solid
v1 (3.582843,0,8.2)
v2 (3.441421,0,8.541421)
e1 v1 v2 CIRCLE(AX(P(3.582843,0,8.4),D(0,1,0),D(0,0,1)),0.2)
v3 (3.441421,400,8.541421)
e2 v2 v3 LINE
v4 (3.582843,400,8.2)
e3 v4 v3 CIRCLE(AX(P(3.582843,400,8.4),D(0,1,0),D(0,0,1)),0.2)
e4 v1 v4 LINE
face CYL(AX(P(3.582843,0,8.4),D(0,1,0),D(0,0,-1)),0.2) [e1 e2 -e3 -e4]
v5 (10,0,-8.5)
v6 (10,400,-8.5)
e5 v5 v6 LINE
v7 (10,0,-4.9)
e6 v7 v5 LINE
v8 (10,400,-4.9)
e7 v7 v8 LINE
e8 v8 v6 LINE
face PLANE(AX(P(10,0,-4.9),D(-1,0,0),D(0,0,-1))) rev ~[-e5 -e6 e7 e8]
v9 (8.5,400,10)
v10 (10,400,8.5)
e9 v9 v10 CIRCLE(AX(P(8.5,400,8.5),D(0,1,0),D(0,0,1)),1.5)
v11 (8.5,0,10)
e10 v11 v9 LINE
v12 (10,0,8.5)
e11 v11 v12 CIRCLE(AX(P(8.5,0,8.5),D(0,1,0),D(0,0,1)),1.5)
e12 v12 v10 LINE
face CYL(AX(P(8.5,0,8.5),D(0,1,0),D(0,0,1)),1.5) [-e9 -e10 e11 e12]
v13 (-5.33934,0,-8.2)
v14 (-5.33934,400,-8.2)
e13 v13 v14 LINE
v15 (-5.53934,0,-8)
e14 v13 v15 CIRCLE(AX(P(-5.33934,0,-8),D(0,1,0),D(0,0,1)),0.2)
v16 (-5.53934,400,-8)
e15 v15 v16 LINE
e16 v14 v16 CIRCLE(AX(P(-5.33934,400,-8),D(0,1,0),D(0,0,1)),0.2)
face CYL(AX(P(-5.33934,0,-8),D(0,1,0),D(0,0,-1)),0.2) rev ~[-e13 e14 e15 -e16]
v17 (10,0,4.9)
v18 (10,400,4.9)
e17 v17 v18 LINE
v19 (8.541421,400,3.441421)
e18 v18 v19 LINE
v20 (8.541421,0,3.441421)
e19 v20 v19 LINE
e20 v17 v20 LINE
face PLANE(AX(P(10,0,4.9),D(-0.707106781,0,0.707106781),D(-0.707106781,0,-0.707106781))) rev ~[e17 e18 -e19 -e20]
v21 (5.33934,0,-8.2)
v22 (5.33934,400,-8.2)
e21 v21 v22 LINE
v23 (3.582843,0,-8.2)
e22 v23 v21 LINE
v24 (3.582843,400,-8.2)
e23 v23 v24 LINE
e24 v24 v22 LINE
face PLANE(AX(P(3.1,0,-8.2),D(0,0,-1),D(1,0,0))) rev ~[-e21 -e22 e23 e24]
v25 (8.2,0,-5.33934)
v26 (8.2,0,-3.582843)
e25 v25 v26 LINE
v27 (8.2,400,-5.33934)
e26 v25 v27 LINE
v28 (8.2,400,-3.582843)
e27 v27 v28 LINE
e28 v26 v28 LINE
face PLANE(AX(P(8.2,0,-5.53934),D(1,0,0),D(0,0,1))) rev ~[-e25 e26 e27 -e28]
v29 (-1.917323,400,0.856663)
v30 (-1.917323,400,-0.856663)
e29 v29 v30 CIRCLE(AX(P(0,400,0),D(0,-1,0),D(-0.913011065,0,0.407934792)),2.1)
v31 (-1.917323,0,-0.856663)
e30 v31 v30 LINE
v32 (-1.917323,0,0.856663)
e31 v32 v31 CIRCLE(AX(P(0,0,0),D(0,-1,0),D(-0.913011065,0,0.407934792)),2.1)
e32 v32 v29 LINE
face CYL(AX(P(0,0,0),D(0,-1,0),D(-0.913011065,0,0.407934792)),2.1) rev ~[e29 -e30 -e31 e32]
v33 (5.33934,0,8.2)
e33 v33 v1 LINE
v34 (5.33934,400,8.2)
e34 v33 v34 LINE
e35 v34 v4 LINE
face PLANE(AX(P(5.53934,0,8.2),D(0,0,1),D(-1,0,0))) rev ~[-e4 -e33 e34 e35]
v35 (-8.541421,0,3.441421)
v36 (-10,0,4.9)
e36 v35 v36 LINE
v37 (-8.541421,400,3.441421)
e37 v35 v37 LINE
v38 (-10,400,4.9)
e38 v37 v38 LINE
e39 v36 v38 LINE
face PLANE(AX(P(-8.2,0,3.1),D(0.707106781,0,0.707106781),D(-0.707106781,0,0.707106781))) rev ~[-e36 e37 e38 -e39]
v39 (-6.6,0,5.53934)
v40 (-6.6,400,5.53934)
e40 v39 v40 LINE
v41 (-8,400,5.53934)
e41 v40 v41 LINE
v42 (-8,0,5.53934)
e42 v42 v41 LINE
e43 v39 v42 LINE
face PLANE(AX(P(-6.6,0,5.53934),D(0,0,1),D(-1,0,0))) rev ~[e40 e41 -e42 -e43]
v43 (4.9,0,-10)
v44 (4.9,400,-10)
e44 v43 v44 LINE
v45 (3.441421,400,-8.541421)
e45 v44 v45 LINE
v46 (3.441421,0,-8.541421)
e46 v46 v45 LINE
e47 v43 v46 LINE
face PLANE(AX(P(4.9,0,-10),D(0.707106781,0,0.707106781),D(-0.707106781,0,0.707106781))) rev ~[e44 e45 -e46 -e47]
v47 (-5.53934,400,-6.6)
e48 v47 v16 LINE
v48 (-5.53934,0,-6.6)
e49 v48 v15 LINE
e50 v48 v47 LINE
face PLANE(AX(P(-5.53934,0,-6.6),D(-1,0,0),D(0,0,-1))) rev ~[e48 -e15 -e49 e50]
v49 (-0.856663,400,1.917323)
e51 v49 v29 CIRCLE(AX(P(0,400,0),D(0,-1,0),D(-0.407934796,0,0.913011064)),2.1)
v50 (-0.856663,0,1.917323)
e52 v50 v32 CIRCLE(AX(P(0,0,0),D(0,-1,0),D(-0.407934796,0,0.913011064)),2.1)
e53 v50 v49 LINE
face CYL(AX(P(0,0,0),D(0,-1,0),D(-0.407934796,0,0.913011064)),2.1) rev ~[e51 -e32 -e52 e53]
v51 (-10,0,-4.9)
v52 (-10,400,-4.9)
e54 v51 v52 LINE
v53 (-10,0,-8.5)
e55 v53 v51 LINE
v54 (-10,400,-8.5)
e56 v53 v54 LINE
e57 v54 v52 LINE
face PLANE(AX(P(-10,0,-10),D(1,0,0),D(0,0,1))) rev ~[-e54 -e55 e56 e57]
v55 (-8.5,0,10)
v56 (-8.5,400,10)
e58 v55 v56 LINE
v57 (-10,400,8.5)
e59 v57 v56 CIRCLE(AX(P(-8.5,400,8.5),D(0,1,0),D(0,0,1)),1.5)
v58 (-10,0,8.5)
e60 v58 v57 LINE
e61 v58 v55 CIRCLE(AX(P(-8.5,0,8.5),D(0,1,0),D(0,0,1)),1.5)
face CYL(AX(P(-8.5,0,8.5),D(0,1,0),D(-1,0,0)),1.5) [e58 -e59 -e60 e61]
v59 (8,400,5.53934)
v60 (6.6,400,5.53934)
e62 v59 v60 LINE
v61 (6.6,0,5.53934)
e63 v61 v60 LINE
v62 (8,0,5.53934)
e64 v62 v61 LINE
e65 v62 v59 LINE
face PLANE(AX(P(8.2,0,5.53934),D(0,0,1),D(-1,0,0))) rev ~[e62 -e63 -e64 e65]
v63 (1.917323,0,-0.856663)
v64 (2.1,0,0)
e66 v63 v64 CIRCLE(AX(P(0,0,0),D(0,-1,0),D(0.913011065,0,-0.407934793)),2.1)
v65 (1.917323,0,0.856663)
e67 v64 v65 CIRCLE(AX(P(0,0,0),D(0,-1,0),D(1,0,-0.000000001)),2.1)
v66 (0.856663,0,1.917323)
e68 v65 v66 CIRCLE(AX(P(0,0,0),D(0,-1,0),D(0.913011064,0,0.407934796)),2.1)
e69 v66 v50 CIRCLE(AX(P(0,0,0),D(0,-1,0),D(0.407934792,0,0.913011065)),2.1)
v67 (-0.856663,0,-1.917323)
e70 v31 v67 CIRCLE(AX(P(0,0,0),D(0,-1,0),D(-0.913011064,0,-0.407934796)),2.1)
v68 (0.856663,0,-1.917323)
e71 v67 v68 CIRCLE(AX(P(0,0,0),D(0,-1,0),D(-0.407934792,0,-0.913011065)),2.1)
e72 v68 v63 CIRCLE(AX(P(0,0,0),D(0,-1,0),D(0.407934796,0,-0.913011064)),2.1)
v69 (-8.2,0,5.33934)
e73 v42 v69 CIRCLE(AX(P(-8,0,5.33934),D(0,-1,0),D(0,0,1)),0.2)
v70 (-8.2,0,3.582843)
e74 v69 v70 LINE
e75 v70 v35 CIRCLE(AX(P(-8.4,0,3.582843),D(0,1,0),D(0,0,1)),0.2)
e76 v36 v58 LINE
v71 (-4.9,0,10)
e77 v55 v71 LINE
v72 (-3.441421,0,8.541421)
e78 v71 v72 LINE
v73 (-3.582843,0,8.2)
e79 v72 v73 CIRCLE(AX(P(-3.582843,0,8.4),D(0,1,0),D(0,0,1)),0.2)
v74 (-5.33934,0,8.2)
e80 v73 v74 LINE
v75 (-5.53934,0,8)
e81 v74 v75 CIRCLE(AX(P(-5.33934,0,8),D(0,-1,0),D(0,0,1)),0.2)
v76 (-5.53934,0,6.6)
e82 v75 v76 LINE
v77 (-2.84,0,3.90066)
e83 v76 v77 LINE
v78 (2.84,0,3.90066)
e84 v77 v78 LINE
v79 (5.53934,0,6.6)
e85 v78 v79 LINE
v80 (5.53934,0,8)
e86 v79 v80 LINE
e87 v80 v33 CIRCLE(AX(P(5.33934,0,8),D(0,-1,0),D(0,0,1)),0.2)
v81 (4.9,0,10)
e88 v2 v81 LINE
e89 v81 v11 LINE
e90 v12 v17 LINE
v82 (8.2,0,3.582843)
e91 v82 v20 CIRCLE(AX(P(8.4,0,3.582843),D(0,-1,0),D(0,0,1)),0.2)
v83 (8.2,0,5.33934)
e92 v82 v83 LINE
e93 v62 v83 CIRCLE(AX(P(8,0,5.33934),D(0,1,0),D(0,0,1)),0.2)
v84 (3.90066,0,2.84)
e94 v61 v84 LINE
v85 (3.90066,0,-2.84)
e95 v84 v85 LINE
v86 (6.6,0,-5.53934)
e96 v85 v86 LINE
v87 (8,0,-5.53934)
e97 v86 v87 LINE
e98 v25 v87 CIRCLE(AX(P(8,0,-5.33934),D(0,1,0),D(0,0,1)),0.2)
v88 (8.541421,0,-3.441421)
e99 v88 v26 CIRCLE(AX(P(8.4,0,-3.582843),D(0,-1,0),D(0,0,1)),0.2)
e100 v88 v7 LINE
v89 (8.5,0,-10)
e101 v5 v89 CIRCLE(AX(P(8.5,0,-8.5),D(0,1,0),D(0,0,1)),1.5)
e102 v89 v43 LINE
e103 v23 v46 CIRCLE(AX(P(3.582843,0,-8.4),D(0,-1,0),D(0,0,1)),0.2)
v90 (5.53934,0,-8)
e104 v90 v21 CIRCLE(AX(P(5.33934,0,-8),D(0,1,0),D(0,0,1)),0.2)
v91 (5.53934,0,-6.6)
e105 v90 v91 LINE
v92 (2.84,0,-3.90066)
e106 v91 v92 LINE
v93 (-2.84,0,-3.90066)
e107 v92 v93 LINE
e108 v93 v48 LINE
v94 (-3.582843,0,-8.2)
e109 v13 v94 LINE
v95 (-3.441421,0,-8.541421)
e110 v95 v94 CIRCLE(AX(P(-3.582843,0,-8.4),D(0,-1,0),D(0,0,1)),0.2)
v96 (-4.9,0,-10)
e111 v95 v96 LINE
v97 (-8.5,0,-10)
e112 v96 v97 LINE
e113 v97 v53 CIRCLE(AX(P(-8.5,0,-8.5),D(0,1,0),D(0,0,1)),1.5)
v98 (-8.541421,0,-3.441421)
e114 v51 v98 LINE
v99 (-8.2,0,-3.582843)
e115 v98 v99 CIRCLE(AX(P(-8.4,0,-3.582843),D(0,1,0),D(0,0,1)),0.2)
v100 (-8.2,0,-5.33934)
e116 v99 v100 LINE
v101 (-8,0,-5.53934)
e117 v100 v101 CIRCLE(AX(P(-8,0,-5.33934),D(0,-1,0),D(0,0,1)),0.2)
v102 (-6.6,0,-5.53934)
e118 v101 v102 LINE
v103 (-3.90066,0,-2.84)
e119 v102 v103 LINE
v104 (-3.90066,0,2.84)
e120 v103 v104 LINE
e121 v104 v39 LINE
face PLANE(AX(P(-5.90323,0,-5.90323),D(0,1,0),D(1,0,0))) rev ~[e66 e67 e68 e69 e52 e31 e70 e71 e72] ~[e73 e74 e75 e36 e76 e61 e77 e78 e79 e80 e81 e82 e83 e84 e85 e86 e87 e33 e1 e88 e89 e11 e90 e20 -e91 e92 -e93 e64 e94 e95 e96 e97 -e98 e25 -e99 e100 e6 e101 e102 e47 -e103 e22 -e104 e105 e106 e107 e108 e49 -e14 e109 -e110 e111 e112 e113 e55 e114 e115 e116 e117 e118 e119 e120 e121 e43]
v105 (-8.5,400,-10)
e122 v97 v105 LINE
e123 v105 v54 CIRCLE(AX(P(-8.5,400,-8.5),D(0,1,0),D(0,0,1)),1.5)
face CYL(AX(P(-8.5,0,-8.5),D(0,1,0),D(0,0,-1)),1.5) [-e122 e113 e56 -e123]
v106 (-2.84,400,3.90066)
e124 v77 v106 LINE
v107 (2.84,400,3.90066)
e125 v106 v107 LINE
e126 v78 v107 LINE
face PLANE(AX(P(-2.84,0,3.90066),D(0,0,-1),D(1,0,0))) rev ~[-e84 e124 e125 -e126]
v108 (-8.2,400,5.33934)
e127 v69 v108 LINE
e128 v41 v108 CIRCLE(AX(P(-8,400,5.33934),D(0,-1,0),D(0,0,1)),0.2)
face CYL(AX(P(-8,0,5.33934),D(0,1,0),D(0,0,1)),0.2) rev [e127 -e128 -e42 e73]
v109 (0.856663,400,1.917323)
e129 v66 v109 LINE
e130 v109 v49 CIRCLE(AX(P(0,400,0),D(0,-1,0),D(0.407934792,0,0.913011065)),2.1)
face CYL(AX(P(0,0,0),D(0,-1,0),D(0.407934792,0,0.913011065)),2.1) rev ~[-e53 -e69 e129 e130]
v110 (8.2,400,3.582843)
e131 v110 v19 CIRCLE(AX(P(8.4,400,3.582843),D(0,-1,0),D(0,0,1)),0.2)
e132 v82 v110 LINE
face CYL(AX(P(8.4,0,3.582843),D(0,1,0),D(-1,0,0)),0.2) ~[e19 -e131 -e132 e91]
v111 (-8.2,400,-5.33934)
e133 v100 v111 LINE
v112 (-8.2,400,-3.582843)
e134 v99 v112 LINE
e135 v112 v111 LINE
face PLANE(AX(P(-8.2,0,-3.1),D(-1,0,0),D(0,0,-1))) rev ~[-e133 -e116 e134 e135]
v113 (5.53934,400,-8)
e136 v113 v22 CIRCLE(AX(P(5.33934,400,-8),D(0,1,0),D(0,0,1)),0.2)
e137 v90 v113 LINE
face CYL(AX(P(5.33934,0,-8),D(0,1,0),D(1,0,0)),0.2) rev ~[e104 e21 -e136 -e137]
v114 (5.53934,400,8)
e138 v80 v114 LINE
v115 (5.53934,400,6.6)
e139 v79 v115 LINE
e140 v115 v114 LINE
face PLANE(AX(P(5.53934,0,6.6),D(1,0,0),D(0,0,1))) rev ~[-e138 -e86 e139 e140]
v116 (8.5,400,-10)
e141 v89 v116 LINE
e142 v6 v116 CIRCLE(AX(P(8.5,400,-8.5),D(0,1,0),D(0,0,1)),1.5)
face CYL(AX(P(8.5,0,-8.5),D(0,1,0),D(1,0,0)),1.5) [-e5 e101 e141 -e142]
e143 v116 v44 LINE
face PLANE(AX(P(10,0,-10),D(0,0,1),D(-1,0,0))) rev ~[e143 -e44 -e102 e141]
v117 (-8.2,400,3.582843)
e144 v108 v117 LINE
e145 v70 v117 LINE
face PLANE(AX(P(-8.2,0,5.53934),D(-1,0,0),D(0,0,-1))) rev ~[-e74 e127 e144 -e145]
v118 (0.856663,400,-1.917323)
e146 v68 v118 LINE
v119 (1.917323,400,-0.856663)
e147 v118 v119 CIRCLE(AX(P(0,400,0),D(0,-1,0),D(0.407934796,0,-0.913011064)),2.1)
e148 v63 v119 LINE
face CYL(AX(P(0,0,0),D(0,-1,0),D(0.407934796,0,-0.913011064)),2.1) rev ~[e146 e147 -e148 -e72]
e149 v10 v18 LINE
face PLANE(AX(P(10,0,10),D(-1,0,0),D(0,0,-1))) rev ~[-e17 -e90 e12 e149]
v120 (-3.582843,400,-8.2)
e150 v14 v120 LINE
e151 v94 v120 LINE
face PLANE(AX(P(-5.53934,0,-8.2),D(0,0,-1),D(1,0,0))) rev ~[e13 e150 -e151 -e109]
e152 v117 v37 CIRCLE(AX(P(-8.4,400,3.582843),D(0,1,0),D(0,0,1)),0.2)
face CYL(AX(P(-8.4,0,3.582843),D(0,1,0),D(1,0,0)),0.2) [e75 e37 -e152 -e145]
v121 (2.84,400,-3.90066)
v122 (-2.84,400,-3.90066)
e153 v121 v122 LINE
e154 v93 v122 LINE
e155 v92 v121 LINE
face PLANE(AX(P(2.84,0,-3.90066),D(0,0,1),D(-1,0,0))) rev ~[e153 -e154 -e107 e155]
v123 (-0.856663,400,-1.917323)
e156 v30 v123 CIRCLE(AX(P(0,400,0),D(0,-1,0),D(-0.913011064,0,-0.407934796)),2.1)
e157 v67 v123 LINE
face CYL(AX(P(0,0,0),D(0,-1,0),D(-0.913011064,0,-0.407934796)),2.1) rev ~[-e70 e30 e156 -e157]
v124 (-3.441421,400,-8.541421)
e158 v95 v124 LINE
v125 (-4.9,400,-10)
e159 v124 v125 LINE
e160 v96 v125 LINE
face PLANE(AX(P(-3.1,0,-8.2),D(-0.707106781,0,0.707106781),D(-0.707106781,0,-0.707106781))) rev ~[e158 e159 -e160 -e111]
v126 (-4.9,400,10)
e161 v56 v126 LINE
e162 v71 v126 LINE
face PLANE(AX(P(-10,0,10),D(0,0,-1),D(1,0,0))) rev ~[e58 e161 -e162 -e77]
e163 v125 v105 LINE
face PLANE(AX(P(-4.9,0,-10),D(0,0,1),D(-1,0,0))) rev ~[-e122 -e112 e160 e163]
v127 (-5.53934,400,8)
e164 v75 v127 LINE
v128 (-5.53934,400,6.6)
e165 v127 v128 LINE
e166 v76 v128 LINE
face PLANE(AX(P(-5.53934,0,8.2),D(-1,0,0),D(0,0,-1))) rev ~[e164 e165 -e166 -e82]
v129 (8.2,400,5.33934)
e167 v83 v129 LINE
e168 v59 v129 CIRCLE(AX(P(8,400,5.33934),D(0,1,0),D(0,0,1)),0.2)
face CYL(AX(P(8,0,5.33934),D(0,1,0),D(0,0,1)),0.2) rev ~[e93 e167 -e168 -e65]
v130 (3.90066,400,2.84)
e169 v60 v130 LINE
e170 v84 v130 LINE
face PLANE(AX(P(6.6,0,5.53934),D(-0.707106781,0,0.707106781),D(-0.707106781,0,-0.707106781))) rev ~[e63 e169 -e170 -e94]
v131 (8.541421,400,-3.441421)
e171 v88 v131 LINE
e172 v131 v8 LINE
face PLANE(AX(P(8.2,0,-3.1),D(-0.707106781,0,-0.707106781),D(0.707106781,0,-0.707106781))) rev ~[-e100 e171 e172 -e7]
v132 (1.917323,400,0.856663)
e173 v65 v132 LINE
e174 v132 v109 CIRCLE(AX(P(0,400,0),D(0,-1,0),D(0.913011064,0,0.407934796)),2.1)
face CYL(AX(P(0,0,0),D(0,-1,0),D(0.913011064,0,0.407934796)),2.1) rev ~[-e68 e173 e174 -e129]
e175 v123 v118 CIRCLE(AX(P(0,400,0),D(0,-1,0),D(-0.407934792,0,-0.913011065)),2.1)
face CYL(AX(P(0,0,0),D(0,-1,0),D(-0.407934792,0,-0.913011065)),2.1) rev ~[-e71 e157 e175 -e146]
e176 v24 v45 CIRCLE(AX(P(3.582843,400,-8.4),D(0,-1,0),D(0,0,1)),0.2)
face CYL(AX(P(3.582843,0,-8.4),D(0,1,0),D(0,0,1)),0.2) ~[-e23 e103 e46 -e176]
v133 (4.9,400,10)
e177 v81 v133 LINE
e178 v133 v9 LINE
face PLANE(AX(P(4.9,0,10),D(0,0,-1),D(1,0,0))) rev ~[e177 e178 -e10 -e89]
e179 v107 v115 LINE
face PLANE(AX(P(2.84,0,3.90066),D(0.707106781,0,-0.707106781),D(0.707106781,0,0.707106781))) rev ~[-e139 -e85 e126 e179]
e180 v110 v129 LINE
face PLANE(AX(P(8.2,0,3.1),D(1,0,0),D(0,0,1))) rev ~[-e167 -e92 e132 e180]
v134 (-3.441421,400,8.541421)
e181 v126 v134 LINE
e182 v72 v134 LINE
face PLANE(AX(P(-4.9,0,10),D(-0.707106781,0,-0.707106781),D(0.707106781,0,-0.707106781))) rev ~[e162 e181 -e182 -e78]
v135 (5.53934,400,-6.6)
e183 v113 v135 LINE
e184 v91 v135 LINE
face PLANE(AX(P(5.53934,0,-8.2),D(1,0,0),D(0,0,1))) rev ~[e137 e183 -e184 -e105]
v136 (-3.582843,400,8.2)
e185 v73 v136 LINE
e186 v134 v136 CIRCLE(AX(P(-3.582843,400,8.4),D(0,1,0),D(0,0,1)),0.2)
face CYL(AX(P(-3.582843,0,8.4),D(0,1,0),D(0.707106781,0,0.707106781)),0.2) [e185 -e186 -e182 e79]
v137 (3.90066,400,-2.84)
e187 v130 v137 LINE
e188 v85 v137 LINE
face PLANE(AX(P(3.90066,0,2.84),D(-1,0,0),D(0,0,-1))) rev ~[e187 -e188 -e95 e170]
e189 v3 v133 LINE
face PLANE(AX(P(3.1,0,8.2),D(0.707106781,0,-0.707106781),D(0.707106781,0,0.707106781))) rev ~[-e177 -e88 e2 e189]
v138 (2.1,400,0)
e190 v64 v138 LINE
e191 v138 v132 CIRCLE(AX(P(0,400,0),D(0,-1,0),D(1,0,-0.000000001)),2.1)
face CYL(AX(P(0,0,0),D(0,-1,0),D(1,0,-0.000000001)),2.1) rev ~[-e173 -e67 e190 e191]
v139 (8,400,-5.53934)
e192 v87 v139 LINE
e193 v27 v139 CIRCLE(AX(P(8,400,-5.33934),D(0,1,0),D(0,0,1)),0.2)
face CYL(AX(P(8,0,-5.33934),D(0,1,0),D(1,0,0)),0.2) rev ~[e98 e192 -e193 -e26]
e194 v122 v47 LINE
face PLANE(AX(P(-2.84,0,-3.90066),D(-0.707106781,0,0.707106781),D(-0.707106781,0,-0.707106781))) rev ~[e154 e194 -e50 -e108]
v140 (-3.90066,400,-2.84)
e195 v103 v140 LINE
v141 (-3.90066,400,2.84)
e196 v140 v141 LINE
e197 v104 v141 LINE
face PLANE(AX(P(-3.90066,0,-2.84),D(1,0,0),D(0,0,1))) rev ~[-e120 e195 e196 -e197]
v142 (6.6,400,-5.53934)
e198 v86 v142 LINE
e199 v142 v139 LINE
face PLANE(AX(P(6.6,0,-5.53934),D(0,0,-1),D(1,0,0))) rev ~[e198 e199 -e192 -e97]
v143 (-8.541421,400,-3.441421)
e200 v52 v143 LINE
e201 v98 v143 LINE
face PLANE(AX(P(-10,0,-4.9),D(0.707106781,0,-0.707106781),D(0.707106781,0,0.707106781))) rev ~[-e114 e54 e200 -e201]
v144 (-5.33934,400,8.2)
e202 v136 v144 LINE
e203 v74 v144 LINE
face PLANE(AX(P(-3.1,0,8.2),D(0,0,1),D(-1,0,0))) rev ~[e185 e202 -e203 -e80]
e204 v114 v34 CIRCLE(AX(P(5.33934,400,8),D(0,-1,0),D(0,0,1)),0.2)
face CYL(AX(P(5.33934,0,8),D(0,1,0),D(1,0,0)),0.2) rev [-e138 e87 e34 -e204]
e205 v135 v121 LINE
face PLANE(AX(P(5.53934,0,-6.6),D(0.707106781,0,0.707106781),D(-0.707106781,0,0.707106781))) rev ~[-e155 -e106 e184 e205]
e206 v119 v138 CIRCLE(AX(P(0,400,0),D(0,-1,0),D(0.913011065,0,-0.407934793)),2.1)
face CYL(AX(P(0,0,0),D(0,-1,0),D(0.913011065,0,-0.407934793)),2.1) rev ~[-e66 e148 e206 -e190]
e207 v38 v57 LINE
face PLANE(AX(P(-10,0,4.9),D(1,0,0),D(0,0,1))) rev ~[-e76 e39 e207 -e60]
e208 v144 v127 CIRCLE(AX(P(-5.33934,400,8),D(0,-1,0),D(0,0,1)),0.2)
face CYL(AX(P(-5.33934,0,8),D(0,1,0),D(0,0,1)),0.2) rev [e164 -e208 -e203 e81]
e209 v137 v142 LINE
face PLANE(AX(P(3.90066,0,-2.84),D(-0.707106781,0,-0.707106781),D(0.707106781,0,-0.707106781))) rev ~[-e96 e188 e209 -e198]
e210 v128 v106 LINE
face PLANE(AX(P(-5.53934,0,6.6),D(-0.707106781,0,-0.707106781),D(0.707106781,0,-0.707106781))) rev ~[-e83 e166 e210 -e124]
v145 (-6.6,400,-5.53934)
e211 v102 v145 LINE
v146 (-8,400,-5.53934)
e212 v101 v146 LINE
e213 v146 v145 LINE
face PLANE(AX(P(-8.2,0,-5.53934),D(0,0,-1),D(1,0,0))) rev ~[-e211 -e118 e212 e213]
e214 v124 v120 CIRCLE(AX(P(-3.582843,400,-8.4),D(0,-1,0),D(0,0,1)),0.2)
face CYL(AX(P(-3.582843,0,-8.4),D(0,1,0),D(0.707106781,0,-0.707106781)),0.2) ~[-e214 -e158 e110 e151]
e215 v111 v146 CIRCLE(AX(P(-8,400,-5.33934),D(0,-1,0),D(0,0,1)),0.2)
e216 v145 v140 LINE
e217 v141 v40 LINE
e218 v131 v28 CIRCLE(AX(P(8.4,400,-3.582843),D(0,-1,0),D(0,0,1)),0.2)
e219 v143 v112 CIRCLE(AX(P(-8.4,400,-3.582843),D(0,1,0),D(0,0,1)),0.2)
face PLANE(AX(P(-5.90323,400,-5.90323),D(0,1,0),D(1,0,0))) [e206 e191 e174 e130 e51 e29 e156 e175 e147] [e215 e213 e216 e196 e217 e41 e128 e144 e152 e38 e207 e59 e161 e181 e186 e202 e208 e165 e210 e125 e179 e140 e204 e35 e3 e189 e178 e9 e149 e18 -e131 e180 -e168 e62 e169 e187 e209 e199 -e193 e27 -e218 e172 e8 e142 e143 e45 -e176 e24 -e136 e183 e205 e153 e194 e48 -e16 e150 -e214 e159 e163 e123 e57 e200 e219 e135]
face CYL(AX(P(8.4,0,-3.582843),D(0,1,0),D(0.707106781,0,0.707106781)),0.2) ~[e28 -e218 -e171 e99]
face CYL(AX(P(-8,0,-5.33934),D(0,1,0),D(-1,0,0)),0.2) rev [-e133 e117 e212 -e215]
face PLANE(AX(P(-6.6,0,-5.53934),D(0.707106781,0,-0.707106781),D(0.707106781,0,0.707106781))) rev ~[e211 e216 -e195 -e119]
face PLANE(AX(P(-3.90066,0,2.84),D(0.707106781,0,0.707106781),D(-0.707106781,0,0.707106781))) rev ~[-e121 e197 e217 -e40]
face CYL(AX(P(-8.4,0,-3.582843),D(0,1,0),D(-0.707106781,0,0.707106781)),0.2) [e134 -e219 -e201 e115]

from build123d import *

# Parameters (mm, degrees)
SALIENTE_EXTRUIR1_DEPTH = 400
REDONDEO1_R             = 1.5
REDONDEO2_R             = 0.2


with BuildPart() as part:
    # Croquis1 → Saliente-Extruir1 (new body)
    with BuildSketch(Plane(origin=(0, 0, 0), x_dir=(1, 0, 0), z_dir=(0, 1, 0))):
        with BuildLine():
            Line((-4.9, 10), (-10, 10))
            Line((-10, 10), (-10, 4.9))
            Line((-10, 4.9), (-8.2, 3.1))
            Line((-8.2, 3.1), (-8.2, 5.539339828))
            Line((-8.2, 5.539339828), (-6.6, 5.539339828))
            Line((-6.6, 5.539339828), (-3.900660172, 2.84))
            Line((-3.900660172, 2.84), (-1.917323237, 0.856663065))
            ThreePointArc((-1.917323237, 0.856663065), (-1.48492424, 1.48492424), (-0.856663065, 1.917323237))
            Line((-0.856663065, 1.917323237), (-2.84, 3.900660172))
            Line((-2.84, 3.900660172), (-5.539339828, 6.6))
            Line((-5.539339828, 6.6), (-5.539339828, 8.2))
            Line((-5.539339828, 8.2), (-3.1, 8.2))
            Line((-3.1, 8.2), (-4.9, 10))
        make_face()
        with BuildLine():
            Line((-8.2, -3.1), (-10, -4.9))
            Line((-10, -4.9), (-10, -10))
            Line((-10, -10), (-4.9, -10))
            Line((-4.9, -10), (-3.1, -8.2))
            Line((-3.1, -8.2), (-5.539339828, -8.2))
            Line((-5.539339828, -8.2), (-5.539339828, -6.6))
            Line((-5.539339828, -6.6), (-2.84, -3.900660172))
            Line((-2.84, -3.900660172), (-0.856663065, -1.917323237))
            ThreePointArc((-0.856663065, -1.917323237), (-1.48492424, -1.48492424), (-1.917323237, -0.856663065))
            Line((-1.917323237, -0.856663065), (-3.900660172, -2.84))
            Line((-3.900660172, -2.84), (-6.6, -5.539339828))
            Line((-6.6, -5.539339828), (-8.2, -5.539339828))
            Line((-8.2, -5.539339828), (-8.2, -3.1))
        make_face()
        with BuildLine():
            Line((10, -10), (10, -4.9))
            Line((10, -4.9), (8.2, -3.1))
            Line((8.2, -3.1), (8.2, -5.539339828))
            Line((8.2, -5.539339828), (6.6, -5.539339828))
            Line((6.6, -5.539339828), (3.900660172, -2.84))
            Line((3.900660172, -2.84), (1.917323237, -0.856663065))
            ThreePointArc((1.917323237, -0.856663065), (1.48492424, -1.48492424), (0.856663065, -1.917323237))
            Line((0.856663065, -1.917323237), (2.84, -3.900660172))
            Line((2.84, -3.900660172), (5.539339828, -6.6))
            Line((5.539339828, -6.6), (5.539339828, -8.2))
            Line((5.539339828, -8.2), (3.1, -8.2))
            Line((3.1, -8.2), (4.9, -10))
            Line((4.9, -10), (10, -10))
        make_face()
        with BuildLine():
            Line((10, 10), (4.9, 10))
            Line((4.9, 10), (3.1, 8.2))
            Line((3.1, 8.2), (5.539339828, 8.2))
            Line((5.539339828, 8.2), (5.539339828, 6.6))
            Line((5.539339828, 6.6), (2.84, 3.900660172))
            Line((2.84, 3.900660172), (0.856663065, 1.917323237))
            ThreePointArc((0.856663065, 1.917323237), (1.48492424, 1.48492424), (1.917323237, 0.856663065))
            Line((1.917323237, 0.856663065), (3.900660172, 2.84))
            Line((3.900660172, 2.84), (6.6, 5.539339828))
            Line((6.6, 5.539339828), (8.2, 5.539339828))
            Line((8.2, 5.539339828), (8.2, 3.1))
            Line((8.2, 3.1), (10, 4.9))
            Line((10, 4.9), (10, 10))
        make_face()
        with BuildLine():
            Line((-1.917323237, 0.856663065), (-3.900660172, 2.84))
            Line((-3.900660172, 2.84), (-3.900660172, -2.84))
            Line((-3.900660172, -2.84), (-1.917323237, -0.856663065))
            ThreePointArc((-1.917323237, -0.856663065), (-2.1, 0), (-1.917323237, 0.856663065))
        make_face()
        with BuildLine():
            Line((-0.856663065, -1.917323237), (-2.84, -3.900660172))
            Line((-2.84, -3.900660172), (2.84, -3.900660172))
            Line((2.84, -3.900660172), (0.856663065, -1.917323237))
            ThreePointArc((0.856663065, -1.917323237), (0, -2.1), (-0.856663065, -1.917323237))
        make_face()
        with BuildLine():
            Line((3.900660172, -2.84), (3.900660172, 2.84))
            Line((3.900660172, 2.84), (1.917323237, 0.856663065))
            ThreePointArc((1.917323237, 0.856663065), (2.053823118, 0.437961872), (2.1, 0))
            ThreePointArc((2.1, 0), (2.053823118, -0.437961872), (1.917323237, -0.856663065))
            Line((1.917323237, -0.856663065), (3.900660172, -2.84))
        make_face()
        with BuildLine():
            Line((2.84, 3.900660172), (-2.84, 3.900660172))
            Line((-2.84, 3.900660172), (-0.856663065, 1.917323237))
            ThreePointArc((-0.856663065, 1.917323237), (0, 2.1), (0.856663065, 1.917323237))
            Line((0.856663065, 1.917323237), (2.84, 3.900660172))
        make_face()
    extrude(amount=SALIENTE_EXTRUIR1_DEPTH)

    # Redondeo1
    redondeo1_edges = [part.edges().sort_by_distance(p)[0] for p in [
        (-10, 200, 10),
        (-10, 200, -10),
        (10, 200, -10),
        (10, 200, 10),
    ]]
    fillet(redondeo1_edges, radius=REDONDEO1_R)

    # Redondeo2
    redondeo2_edges = [part.edges().sort_by_distance(p)[0] for p in [
        (-5.539339828, 200, 8.2),
        (-3.1, 200, 8.2),
        (-8.2, 200, 3.1),
        (-8.2, 200, 5.539339828),
        (-8.2, 200, -5.539339828),
        (-8.2, 200, -3.1),
        (-3.1, 200, -8.2),
        (-5.539339828, 200, -8.2),
        (5.539339828, 200, -8.2),
        (3.1, 200, -8.2),
        (8.2, 200, -3.1),
        (8.2, 200, -5.539339828),
        (8.2, 200, 5.539339828),
        (8.2, 200, 3.1),
        (3.1, 200, 8.2),
        (5.539339828, 200, 8.2),
    ]]
    fillet(redondeo2_edges, radius=REDONDEO2_R)


solid = part.part
